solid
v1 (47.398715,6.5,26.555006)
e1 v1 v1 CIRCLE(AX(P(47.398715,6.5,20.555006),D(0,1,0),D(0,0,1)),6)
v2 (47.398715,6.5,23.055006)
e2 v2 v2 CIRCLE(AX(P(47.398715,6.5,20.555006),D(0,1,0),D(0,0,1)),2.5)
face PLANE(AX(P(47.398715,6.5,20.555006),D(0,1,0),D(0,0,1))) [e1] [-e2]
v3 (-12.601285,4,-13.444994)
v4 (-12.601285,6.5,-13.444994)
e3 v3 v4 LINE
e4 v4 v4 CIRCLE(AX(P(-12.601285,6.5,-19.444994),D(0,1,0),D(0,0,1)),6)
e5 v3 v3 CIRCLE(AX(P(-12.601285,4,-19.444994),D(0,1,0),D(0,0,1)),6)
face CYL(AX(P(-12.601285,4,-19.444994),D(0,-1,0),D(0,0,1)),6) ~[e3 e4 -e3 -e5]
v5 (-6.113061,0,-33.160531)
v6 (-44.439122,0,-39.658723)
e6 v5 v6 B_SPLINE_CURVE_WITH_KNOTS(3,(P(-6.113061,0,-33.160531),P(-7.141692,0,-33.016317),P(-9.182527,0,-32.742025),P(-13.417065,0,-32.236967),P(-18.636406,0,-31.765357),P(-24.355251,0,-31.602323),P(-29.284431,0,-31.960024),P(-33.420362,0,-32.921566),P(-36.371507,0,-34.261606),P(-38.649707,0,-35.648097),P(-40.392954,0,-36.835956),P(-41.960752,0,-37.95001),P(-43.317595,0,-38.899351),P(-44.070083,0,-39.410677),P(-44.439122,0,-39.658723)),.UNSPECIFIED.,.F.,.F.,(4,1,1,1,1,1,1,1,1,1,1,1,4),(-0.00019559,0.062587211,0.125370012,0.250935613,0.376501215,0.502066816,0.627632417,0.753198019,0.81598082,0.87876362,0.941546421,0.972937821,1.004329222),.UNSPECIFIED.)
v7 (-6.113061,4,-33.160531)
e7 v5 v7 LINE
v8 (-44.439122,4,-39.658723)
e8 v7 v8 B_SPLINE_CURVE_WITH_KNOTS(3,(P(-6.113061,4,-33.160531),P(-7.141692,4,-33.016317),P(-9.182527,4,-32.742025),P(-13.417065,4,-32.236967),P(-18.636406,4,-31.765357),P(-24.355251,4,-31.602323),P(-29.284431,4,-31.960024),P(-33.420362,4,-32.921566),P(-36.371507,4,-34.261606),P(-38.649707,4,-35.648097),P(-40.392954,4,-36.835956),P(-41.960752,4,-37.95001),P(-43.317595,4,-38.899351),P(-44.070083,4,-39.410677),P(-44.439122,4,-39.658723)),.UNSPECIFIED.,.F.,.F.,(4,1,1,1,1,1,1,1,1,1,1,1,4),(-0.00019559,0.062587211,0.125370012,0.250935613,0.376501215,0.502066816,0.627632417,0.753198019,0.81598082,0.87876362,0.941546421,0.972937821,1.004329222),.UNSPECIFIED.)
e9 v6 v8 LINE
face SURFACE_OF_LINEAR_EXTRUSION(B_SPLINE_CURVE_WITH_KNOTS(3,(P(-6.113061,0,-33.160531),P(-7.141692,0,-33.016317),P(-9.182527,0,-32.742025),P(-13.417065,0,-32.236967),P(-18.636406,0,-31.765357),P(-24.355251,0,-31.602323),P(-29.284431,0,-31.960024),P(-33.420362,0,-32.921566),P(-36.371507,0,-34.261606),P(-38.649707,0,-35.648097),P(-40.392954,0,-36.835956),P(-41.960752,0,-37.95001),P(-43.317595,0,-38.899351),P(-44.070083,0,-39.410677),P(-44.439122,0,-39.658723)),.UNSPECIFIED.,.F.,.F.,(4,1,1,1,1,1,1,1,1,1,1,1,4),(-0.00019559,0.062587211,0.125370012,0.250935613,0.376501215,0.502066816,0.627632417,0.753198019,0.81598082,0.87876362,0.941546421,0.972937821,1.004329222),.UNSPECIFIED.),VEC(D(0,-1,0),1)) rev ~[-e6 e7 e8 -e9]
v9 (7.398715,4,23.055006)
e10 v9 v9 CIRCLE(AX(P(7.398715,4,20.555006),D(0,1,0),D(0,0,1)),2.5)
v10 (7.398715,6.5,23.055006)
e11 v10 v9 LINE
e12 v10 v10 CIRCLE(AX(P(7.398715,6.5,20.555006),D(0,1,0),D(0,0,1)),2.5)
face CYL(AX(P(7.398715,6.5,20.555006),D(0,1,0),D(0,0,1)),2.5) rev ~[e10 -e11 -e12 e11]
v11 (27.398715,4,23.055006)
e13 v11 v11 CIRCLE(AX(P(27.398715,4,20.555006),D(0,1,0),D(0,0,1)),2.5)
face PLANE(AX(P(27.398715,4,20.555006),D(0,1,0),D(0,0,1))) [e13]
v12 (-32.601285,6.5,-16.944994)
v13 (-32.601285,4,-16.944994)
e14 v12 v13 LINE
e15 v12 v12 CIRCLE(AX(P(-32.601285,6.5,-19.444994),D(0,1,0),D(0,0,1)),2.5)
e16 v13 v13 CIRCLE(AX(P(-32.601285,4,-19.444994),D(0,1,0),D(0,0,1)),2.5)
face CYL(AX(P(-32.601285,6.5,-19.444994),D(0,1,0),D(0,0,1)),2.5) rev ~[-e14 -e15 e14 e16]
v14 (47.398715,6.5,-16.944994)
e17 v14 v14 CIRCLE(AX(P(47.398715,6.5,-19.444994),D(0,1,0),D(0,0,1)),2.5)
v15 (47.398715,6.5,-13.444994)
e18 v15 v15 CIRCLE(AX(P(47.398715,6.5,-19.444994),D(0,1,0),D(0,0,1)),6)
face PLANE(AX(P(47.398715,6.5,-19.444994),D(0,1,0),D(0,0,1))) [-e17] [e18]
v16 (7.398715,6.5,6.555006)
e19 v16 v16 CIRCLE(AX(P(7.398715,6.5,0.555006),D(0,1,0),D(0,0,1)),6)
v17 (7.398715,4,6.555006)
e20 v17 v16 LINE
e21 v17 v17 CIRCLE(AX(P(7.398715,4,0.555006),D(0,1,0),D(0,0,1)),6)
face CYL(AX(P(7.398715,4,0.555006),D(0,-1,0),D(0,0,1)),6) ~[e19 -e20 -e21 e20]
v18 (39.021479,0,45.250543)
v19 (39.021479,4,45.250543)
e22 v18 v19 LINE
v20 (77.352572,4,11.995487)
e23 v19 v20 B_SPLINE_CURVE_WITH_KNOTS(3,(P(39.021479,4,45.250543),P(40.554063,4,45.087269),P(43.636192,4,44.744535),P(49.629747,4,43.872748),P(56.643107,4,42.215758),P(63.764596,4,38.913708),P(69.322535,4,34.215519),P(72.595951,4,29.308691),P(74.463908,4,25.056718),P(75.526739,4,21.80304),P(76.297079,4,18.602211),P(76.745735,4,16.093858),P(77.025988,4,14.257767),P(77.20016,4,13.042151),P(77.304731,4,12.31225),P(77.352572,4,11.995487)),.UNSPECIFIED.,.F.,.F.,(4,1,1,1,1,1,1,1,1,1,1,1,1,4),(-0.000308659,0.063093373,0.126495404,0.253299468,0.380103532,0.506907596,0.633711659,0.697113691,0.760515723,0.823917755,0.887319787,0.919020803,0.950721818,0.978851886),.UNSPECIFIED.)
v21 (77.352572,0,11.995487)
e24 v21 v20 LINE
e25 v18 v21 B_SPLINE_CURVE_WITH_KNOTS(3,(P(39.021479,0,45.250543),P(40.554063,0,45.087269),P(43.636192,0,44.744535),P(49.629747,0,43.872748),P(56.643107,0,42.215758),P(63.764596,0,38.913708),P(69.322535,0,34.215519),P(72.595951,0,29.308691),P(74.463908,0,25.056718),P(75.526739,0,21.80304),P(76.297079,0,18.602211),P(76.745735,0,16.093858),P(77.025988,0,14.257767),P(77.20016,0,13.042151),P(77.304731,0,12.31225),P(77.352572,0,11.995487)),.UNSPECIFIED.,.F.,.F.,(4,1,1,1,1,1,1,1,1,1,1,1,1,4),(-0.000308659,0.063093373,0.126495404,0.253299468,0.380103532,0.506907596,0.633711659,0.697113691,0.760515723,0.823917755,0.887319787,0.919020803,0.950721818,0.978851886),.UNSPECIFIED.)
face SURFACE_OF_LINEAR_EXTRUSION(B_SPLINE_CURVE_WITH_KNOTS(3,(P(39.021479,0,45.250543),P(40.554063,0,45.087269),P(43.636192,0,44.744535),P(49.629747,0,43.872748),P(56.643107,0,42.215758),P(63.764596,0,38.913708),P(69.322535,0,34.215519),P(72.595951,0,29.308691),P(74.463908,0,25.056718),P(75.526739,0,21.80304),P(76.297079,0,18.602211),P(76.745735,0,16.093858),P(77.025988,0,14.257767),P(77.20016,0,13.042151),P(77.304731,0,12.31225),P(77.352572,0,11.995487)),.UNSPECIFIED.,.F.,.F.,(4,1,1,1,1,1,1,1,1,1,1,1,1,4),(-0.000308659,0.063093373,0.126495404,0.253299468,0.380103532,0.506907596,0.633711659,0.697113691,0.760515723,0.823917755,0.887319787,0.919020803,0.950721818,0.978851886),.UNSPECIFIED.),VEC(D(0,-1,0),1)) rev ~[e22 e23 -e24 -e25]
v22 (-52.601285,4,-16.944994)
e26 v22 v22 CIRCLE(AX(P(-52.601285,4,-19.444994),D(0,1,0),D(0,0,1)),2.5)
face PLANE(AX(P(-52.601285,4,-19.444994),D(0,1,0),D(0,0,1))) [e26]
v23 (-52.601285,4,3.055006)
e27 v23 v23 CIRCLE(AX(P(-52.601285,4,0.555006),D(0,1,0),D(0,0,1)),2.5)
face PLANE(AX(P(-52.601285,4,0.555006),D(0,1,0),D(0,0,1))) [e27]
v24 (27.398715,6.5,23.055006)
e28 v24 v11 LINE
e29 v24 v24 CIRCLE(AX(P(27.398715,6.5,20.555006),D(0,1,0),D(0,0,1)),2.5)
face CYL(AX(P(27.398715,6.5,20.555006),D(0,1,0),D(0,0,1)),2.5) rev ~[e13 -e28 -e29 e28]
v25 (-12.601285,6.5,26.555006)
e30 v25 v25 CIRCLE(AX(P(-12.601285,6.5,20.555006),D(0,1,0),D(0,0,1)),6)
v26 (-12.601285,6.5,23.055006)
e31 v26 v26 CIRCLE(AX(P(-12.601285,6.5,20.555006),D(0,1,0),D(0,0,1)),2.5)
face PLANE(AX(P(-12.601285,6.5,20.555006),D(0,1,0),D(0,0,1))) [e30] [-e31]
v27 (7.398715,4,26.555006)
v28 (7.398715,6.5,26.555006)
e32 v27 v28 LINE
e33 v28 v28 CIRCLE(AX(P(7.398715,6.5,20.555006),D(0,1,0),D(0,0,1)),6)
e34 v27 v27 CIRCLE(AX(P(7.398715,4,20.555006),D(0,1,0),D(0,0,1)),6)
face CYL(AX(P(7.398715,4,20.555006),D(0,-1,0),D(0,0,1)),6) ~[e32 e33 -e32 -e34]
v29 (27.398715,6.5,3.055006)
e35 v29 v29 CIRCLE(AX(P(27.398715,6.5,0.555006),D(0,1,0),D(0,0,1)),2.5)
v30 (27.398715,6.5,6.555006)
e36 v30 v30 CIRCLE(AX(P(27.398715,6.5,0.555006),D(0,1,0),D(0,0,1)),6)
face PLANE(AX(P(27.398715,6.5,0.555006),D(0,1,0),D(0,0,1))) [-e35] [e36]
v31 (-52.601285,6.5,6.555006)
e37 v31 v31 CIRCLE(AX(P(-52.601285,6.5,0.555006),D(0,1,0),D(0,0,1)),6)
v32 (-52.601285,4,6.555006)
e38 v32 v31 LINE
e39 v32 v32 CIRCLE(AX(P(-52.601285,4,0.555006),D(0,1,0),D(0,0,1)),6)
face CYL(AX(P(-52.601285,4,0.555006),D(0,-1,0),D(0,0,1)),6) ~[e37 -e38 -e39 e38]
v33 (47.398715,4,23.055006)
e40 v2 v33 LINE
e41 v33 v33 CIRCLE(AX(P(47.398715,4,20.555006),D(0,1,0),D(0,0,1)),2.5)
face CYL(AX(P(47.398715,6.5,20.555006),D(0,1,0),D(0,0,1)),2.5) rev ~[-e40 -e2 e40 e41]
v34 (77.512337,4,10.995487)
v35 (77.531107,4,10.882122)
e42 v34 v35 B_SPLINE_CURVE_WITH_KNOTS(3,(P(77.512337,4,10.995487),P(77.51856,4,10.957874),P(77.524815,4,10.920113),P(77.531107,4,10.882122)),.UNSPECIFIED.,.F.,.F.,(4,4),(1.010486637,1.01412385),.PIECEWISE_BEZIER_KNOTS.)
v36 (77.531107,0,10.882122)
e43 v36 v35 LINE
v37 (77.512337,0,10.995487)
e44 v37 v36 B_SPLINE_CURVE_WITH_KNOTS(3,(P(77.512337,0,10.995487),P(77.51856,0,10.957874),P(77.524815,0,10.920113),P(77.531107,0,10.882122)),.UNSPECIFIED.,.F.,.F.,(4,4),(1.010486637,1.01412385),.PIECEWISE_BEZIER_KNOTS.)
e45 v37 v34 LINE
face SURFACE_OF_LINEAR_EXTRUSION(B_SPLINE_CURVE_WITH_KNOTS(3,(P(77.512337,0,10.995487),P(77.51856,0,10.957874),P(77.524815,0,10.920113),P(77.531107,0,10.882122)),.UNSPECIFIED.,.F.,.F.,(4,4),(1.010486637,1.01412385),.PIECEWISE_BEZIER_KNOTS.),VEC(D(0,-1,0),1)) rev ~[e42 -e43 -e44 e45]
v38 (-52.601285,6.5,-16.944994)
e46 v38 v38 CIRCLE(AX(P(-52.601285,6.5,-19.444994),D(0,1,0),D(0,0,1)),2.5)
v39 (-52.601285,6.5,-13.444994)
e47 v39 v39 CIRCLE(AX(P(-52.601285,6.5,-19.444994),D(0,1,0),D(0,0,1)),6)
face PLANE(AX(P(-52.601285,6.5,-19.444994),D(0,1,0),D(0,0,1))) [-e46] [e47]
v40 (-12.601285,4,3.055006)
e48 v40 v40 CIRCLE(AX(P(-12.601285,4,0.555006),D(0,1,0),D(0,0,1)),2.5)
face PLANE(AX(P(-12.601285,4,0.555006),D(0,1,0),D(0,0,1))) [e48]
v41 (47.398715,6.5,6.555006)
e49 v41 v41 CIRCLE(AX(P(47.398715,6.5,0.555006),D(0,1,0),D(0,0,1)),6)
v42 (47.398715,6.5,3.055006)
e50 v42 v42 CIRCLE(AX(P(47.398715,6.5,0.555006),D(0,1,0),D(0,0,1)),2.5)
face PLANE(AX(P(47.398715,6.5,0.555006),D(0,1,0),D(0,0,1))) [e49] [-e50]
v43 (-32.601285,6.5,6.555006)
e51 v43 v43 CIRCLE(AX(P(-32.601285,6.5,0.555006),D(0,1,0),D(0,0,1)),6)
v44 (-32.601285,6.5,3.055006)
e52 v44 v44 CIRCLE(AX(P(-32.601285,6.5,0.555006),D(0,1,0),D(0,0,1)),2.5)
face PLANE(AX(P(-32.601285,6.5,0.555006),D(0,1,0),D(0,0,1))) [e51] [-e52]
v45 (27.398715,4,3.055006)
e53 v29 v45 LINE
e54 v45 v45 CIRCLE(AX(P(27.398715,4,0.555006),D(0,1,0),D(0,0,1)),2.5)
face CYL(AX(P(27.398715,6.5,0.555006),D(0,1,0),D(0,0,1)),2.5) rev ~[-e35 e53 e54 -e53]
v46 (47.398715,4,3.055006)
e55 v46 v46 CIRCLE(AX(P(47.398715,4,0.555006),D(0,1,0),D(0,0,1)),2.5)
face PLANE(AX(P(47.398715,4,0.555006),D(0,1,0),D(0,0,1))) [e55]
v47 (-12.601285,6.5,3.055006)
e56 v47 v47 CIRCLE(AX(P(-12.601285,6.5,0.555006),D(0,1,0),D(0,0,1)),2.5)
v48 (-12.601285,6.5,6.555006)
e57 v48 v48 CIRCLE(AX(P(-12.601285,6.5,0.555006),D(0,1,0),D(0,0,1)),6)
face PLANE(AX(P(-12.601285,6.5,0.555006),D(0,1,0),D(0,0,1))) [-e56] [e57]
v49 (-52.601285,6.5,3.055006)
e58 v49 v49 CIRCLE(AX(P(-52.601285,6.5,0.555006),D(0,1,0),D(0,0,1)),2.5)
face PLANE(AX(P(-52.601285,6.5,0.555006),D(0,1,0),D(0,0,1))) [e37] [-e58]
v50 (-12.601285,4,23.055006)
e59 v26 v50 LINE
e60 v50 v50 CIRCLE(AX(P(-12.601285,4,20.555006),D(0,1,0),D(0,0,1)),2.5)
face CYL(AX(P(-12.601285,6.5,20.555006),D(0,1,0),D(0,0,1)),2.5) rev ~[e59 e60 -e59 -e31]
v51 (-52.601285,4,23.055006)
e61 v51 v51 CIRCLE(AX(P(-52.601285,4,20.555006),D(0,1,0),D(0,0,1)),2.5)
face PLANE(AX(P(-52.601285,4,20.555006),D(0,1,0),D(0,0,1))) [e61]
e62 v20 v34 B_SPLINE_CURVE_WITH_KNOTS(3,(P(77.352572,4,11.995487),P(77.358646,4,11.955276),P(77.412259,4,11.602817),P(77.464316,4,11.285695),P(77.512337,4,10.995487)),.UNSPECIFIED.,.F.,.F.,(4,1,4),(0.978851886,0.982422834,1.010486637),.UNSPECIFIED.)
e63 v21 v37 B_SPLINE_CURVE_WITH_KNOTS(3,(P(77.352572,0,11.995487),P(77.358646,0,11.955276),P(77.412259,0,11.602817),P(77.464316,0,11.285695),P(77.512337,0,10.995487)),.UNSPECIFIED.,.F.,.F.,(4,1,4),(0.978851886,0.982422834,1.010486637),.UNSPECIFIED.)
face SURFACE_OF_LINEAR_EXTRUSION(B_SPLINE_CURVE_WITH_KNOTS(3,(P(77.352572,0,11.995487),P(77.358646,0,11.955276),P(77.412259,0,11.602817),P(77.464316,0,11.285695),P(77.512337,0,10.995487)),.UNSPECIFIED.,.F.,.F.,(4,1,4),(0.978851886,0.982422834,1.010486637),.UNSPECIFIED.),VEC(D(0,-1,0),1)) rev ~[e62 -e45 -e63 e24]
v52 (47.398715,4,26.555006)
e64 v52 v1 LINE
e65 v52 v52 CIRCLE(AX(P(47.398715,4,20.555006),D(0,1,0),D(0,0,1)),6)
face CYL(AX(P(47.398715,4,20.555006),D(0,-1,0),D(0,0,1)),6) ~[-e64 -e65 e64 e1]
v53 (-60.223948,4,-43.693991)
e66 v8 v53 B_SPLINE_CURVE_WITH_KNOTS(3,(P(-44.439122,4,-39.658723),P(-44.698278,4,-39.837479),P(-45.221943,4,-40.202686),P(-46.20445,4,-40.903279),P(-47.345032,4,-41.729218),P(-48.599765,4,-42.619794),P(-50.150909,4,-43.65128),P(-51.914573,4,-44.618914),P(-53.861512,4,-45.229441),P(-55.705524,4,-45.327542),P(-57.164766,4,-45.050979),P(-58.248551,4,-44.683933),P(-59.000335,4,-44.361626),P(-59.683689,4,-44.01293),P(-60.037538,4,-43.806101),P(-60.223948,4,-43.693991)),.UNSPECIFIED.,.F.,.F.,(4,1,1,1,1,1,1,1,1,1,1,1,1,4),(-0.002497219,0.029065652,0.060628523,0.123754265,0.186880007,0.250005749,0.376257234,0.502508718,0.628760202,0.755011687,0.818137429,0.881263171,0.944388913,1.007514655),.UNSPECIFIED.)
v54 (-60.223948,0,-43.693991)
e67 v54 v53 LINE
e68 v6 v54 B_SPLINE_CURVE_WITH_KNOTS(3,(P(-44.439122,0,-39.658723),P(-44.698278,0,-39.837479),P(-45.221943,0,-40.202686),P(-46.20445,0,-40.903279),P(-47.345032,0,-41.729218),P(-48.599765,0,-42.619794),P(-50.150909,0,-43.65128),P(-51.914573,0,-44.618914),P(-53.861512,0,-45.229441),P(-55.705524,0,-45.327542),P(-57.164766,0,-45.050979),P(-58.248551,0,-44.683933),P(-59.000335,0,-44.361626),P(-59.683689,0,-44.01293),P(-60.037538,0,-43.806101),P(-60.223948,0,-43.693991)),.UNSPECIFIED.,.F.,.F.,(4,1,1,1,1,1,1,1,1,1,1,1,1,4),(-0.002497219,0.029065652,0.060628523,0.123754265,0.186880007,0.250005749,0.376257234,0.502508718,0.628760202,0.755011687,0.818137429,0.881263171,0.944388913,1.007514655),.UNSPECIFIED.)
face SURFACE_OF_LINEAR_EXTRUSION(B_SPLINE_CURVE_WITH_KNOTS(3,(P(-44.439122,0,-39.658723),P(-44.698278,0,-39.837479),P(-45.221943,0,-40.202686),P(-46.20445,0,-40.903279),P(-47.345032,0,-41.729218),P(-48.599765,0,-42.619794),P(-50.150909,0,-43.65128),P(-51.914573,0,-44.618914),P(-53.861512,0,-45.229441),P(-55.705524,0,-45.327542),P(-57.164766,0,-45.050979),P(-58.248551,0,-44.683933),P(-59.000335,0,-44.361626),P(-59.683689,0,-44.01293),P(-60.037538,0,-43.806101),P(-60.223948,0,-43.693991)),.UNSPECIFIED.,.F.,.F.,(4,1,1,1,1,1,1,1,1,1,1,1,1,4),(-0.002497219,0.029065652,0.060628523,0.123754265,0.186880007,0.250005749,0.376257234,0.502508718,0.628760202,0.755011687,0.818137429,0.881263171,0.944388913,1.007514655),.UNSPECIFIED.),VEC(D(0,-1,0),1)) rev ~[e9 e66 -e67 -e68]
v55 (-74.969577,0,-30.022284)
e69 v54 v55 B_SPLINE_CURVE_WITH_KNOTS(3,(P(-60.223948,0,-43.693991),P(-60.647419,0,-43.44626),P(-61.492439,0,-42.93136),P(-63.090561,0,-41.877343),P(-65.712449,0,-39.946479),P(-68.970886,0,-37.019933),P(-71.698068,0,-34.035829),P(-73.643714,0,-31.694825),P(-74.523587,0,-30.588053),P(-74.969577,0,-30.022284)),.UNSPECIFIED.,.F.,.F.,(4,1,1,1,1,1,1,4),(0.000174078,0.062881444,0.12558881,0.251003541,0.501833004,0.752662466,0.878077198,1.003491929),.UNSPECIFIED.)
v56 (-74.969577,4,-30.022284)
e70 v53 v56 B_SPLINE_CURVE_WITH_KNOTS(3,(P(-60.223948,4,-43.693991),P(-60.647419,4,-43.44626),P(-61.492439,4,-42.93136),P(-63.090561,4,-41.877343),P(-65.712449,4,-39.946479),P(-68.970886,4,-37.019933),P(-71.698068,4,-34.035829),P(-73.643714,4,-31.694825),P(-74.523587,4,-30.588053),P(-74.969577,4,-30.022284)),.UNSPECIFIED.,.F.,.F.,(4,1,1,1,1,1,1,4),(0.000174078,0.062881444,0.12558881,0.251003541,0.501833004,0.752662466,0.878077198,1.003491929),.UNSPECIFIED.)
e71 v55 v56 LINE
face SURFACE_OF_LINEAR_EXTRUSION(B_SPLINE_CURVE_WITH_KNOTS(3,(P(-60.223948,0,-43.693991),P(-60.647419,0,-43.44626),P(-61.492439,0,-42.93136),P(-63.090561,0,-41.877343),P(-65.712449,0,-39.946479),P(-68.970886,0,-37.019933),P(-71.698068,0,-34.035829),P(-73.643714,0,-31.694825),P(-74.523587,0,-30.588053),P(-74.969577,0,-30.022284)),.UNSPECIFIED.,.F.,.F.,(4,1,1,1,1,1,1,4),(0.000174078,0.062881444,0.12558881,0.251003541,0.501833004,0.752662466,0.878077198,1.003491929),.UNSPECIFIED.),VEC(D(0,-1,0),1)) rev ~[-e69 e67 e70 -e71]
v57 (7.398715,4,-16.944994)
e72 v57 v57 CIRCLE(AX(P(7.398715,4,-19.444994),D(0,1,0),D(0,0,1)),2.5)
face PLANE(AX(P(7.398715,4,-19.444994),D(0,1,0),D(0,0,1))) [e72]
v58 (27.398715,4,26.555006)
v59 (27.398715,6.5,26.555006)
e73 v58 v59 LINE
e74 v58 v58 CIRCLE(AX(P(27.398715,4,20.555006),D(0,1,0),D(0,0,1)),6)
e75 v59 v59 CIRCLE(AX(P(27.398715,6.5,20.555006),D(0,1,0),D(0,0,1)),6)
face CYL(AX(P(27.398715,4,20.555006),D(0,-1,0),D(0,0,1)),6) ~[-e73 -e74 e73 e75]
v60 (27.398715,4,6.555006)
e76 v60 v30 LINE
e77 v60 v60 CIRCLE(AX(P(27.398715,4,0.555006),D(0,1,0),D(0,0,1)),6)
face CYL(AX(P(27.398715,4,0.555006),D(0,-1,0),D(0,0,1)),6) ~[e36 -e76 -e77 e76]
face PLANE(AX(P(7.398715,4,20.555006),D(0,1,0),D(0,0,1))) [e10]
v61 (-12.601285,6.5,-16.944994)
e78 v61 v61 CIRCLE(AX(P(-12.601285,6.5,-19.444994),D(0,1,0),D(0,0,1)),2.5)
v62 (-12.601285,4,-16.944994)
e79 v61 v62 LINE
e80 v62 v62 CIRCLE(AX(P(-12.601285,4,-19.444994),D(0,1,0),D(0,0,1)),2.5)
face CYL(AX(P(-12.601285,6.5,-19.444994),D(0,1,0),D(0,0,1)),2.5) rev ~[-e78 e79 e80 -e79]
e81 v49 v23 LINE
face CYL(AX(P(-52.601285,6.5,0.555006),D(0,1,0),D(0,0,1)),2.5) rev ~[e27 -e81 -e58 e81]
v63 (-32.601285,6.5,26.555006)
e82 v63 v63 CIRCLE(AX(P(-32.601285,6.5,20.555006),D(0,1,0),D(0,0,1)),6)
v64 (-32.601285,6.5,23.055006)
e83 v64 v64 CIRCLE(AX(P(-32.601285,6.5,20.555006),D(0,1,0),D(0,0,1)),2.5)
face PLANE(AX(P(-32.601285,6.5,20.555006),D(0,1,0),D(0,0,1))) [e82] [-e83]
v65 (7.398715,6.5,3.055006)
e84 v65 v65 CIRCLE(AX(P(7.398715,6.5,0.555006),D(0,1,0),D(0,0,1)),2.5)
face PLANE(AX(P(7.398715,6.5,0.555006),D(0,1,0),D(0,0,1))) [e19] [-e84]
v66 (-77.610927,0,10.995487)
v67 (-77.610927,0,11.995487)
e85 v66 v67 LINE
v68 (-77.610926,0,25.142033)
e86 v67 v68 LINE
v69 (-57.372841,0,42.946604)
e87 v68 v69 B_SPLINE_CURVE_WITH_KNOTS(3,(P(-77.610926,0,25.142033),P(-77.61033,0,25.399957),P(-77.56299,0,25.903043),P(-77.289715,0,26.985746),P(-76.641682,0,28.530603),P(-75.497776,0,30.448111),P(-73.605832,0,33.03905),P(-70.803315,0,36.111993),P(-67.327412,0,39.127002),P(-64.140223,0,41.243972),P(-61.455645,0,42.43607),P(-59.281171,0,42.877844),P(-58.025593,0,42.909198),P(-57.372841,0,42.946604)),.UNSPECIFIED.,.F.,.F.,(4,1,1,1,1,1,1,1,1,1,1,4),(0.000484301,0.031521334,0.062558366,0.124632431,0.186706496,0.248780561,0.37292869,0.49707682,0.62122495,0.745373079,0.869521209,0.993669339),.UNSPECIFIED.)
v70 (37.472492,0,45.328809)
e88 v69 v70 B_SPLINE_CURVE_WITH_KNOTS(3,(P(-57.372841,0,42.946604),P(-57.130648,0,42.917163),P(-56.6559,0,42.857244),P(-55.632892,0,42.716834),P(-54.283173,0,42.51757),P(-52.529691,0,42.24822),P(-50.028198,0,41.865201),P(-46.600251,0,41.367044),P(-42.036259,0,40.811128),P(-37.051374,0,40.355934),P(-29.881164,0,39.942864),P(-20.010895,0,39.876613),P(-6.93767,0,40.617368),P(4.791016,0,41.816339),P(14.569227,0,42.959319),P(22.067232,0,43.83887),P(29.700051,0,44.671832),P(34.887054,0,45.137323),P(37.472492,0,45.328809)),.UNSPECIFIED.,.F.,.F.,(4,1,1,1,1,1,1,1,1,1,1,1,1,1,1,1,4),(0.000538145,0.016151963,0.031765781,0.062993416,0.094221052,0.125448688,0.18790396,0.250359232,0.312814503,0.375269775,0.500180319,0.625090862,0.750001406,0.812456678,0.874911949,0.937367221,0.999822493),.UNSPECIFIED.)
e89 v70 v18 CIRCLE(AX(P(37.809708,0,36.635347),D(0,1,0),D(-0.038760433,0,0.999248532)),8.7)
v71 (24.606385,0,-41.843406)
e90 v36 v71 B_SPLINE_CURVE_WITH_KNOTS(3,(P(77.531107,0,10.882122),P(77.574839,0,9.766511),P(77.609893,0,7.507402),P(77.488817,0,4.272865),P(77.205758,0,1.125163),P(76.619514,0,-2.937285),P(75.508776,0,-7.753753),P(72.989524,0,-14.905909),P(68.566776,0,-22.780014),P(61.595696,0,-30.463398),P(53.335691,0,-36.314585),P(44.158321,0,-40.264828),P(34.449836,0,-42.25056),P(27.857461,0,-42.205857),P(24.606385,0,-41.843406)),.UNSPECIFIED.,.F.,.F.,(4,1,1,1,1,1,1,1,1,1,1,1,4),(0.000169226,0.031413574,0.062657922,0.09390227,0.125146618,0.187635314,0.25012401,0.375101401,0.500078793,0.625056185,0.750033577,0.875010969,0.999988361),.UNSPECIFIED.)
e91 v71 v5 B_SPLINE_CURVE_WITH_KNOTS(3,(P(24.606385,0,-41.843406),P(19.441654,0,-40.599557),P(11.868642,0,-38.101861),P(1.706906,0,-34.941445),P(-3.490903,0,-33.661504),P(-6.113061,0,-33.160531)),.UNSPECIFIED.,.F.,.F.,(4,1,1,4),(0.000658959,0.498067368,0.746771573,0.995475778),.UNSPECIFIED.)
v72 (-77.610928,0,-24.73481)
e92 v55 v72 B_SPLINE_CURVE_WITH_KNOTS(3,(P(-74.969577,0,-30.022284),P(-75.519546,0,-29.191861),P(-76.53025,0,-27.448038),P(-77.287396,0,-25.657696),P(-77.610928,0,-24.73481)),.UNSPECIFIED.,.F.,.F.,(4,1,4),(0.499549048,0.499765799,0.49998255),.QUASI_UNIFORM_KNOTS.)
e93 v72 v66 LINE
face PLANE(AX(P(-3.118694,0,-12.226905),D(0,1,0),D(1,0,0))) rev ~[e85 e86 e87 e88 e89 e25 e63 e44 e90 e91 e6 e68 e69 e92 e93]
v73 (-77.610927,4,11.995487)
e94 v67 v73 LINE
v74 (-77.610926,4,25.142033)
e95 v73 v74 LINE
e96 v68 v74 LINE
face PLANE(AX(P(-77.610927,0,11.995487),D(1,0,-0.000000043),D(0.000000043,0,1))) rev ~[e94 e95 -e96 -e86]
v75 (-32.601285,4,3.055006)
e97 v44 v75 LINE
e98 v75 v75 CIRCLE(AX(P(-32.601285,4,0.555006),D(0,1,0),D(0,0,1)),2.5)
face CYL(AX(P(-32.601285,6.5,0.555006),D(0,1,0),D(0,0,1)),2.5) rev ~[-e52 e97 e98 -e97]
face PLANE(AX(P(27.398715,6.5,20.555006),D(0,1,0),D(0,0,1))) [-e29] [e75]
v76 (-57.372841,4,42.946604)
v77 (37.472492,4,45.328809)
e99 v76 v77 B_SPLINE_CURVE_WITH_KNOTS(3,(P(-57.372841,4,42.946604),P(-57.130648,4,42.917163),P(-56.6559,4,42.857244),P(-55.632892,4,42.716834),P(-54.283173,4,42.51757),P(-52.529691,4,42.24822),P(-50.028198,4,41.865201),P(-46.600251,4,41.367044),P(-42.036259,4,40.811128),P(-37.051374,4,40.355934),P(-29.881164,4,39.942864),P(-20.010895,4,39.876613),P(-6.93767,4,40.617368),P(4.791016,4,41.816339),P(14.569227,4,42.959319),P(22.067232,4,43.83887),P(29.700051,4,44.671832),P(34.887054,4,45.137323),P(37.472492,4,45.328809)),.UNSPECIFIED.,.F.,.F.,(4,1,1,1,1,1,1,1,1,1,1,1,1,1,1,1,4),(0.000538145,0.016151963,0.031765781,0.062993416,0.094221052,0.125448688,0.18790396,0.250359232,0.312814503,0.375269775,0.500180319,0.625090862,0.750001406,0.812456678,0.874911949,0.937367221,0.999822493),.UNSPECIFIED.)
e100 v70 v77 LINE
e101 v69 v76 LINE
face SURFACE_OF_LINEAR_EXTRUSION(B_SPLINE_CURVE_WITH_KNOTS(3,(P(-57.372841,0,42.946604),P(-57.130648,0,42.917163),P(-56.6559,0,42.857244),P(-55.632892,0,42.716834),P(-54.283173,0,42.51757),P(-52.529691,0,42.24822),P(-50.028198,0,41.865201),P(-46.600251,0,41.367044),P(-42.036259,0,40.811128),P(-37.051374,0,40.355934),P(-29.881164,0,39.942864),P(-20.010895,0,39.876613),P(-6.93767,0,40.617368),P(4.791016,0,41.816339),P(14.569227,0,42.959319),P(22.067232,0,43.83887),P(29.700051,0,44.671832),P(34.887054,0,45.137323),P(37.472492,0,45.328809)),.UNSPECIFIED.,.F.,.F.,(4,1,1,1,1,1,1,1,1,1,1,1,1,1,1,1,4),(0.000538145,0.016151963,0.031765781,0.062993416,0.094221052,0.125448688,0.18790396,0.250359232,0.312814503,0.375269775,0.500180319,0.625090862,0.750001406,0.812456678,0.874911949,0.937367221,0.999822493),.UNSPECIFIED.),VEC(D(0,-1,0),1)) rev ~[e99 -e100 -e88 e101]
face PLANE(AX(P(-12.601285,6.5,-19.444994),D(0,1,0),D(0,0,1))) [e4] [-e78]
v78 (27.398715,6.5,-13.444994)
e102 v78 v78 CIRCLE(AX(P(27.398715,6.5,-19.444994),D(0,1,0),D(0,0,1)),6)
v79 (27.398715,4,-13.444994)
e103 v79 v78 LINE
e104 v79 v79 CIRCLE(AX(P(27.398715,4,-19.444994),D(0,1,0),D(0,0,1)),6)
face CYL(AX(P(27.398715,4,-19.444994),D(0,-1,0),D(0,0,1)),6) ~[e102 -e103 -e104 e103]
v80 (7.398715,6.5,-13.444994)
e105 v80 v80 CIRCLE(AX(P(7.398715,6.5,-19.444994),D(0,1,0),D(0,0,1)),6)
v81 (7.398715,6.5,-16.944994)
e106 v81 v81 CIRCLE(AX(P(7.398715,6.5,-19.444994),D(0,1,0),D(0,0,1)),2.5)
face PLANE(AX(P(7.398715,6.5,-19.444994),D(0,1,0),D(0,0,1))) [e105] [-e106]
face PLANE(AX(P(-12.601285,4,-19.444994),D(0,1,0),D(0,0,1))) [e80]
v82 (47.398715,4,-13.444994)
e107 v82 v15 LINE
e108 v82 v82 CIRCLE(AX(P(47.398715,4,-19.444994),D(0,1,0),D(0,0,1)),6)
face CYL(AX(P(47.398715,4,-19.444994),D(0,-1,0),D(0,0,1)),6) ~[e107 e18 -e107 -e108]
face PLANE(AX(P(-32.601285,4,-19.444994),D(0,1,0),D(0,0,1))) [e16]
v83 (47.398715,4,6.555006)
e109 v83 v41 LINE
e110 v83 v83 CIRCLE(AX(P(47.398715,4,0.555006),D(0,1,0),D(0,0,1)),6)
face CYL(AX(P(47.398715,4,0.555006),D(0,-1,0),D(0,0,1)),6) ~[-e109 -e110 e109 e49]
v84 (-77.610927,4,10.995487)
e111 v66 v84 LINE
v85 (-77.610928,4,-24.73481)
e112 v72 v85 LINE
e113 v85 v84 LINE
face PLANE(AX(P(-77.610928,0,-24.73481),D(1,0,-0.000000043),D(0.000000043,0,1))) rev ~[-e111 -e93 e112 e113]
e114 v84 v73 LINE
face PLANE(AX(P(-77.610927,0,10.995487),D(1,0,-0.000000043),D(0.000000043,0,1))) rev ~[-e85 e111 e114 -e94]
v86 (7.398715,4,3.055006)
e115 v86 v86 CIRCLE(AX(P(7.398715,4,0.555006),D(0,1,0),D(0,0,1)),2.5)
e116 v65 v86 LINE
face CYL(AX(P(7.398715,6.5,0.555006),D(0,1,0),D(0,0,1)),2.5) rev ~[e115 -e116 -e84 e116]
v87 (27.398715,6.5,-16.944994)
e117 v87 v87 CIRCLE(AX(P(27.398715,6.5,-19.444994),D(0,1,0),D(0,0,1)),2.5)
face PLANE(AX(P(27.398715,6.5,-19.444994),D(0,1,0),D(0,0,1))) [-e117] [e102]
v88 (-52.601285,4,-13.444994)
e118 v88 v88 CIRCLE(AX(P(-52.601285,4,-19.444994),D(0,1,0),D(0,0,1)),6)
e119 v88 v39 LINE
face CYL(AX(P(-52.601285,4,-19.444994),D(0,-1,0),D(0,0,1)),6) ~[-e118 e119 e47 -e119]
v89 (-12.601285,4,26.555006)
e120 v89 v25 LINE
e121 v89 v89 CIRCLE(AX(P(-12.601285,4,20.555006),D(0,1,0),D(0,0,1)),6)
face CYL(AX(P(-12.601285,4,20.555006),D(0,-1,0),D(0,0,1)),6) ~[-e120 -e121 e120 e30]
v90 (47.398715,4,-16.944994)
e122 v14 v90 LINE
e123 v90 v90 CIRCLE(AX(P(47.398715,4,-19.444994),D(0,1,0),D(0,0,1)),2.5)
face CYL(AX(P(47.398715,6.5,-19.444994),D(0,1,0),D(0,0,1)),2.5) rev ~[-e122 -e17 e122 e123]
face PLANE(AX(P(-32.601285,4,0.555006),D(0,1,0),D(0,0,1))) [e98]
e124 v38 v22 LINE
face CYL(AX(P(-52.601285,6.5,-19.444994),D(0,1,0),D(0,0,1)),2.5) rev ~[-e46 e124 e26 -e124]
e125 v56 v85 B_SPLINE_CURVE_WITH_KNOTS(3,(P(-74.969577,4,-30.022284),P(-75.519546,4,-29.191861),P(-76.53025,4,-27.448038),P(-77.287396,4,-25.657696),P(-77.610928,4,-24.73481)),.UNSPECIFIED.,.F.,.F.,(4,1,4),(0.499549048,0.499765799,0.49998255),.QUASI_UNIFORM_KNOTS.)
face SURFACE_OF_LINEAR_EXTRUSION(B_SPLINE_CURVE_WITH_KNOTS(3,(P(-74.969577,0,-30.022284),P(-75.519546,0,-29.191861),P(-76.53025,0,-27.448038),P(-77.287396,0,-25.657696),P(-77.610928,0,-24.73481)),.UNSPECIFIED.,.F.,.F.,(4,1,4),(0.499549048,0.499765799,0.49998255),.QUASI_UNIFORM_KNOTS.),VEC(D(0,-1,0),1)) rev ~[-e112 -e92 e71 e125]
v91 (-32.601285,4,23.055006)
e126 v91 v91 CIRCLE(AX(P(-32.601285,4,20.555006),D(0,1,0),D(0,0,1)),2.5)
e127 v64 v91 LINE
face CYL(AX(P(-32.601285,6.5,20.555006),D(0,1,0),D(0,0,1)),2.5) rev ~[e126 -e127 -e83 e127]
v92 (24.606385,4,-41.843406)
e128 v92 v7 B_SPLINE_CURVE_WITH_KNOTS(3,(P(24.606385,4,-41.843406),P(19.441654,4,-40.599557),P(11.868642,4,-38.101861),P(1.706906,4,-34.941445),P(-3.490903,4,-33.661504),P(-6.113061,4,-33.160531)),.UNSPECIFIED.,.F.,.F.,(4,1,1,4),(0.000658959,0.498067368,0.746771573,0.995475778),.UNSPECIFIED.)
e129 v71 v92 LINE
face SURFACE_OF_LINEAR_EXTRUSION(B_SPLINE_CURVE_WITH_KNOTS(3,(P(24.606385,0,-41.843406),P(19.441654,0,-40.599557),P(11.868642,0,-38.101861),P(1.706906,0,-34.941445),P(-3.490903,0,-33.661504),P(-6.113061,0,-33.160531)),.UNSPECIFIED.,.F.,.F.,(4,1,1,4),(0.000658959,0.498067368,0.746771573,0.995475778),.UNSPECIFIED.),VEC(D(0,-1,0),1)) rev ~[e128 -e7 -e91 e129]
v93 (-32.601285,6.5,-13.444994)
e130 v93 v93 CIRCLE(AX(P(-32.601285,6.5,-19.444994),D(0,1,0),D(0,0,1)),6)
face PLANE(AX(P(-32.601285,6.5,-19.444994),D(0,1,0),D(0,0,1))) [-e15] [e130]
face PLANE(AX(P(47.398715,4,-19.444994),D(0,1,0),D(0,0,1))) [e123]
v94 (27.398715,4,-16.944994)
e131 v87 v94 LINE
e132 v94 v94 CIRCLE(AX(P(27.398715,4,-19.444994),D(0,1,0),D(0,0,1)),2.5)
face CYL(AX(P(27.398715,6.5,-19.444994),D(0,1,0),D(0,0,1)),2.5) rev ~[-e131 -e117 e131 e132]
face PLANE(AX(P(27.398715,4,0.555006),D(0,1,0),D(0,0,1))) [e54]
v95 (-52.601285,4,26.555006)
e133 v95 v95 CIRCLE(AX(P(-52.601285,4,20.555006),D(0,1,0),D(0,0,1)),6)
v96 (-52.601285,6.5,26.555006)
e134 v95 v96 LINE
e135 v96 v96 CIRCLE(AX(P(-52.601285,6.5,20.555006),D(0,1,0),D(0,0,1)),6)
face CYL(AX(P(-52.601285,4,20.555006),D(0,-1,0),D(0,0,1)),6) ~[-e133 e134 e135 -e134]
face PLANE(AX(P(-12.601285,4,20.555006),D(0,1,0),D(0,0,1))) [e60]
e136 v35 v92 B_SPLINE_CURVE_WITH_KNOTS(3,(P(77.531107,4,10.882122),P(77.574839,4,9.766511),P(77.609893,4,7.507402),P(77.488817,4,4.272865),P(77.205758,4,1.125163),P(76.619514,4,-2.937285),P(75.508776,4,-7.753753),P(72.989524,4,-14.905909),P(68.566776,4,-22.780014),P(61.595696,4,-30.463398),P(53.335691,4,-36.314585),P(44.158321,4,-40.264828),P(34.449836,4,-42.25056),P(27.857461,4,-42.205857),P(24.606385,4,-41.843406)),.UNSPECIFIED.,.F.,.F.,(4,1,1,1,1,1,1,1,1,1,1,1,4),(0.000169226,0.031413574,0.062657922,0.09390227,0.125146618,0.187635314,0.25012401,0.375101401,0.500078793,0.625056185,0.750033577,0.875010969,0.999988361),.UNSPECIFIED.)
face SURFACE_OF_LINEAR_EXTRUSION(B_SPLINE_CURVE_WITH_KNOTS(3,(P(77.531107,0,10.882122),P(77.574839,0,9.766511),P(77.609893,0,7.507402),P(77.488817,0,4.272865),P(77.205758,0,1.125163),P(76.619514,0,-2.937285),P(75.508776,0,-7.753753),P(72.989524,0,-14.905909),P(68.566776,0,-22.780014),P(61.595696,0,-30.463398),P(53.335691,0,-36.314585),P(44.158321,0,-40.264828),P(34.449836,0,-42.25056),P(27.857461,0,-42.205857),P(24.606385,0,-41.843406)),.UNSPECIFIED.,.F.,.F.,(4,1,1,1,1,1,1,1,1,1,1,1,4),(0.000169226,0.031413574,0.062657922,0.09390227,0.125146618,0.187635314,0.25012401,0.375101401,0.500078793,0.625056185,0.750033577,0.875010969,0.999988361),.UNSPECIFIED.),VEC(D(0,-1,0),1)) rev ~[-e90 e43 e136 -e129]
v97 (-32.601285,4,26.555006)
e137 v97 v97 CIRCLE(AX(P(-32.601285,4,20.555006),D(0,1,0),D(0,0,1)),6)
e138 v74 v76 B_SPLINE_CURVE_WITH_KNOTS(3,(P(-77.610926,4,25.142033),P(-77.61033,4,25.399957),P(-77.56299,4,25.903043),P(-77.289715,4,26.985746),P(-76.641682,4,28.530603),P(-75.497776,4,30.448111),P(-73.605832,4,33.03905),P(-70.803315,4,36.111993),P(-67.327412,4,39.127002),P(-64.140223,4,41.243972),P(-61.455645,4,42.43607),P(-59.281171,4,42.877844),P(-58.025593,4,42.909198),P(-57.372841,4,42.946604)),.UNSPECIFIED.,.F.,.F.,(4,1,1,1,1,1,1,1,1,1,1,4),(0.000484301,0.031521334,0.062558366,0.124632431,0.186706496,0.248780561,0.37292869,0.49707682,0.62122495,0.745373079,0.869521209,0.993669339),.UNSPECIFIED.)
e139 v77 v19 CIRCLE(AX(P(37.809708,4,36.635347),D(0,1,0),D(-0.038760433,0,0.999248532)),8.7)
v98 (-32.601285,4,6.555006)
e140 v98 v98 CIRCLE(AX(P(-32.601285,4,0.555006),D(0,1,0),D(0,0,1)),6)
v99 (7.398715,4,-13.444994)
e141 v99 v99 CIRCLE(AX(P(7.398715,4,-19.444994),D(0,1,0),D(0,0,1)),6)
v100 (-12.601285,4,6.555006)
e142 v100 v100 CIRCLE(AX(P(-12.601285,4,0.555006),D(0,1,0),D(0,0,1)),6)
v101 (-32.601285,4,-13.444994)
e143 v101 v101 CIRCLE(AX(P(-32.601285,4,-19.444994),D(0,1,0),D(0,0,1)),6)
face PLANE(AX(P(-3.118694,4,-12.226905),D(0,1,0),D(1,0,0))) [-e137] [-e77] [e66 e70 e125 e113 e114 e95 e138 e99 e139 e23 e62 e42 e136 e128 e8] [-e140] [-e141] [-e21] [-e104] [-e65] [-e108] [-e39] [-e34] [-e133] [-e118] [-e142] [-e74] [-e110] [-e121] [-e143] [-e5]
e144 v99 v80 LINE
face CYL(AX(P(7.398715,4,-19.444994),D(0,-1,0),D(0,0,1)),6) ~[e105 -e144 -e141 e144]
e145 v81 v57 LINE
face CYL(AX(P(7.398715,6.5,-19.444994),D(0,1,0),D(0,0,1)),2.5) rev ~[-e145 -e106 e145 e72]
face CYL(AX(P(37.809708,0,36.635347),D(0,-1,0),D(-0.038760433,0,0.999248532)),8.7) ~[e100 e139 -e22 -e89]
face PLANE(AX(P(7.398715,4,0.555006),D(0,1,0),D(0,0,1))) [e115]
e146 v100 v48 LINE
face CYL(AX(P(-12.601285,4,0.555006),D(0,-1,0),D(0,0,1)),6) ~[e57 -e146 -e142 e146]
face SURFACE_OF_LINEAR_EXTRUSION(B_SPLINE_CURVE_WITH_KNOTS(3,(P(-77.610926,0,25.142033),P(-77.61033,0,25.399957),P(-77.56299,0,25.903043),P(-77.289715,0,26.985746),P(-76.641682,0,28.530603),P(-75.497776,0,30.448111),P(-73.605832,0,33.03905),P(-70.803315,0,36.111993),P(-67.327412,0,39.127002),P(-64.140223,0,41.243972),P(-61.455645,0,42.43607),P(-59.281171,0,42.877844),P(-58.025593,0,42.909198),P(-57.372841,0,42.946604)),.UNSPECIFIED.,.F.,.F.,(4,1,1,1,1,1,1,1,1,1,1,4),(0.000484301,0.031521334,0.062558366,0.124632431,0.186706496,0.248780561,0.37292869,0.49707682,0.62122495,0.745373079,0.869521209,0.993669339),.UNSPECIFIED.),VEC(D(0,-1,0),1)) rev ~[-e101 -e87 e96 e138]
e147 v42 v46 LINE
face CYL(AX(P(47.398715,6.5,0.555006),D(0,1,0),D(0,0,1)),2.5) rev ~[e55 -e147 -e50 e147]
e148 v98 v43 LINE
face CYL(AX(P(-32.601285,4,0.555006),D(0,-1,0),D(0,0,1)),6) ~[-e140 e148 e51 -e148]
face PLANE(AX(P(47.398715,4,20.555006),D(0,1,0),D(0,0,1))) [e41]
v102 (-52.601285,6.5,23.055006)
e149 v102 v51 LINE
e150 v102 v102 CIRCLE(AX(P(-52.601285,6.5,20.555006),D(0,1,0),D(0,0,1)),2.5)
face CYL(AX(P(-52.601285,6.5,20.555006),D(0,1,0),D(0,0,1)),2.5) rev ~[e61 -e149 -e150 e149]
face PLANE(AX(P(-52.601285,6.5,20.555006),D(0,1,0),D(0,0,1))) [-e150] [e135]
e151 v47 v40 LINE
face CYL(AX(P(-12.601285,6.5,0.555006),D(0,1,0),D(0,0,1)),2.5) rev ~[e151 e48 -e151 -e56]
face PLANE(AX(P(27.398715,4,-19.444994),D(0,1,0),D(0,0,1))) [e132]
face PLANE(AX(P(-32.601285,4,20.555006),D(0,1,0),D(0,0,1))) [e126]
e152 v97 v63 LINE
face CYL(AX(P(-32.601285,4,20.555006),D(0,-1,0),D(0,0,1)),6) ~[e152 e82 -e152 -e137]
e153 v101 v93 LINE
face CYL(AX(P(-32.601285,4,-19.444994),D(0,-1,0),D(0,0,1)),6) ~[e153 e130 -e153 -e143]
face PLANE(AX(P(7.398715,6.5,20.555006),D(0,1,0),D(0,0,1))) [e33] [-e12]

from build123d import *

# Parameters (mm, degrees)
BOSS_EXTRUDE2_DEPTH  = 4
SKETCH2_R            = 6
BOSS_EXTRUDE3_DEPTH  = 2.5
SKETCH4_R            = 2.5
CUT_EXTRUDE1_DEPTH   = 2.5
LPATTERN1_COUNT      = 3
LPATTERN1_PITCH      = 20
LPATTERN1_COUNT_DIR2 = 6
LPATTERN1_PITCH_DIR2 = 20


with BuildPart() as part:
    # Sketch1 → Boss-Extrude2 (new body)
    with BuildSketch(Plane(origin=(0, 0, 0), x_dir=(1, 0, 0), z_dir=(0, 1, 0))):
        with BuildLine():
            Line((-77.610928287, 24.73480995), (-77.610926739, -10.995486899))
            Line((-77.610926739, -10.995486899), (77.512336703, -10.995486899))
            add(Edge.make_bspline(
                [(77.512336703, -10.995486899), (77.518560385, -10.957874405), (77.524814965, -10.920112686), (77.531107112, -10.882121857)],
                knots=[1.010486637, 1.010486637, 1.010486637, 1.010486637, 1.01412385, 1.01412385, 1.01412385, 1.01412385], degree=3))
            add(Edge.make_bspline(
                [(77.531107112, -10.882121857), (77.574839436, -9.766511083), (77.609892635, -7.507402328), (77.488817492, -4.272864758), (77.205757806, -1.125162749), (76.619514408, 2.937285367), (75.50877626, 7.753752623), (72.989524017, 14.905909338), (68.566776195, 22.780014071), (61.595696469, 30.463398286), (53.335691478, 36.314584962), (44.158321293, 40.264828436), (34.449835996, 42.250559646), (27.85746121, 42.205857253), (24.60638519, 41.843406408)],
                knots=[0.000169226, 0.000169226, 0.000169226, 0.000169226, 0.031413574, 0.062657922, 0.09390227, 0.125146618, 0.187635314, 0.25012401, 0.375101401, 0.500078793, 0.625056185, 0.750033577, 0.875010969, 0.999988361, 0.999988361, 0.999988361, 0.999988361], degree=3))
            add(Edge.make_bspline(
                [(24.60638519, 41.843406408), (19.441654305, 40.599557497), (11.868641969, 38.10186056), (1.706905963, 34.941445063), (-3.490903085, 33.661503777), (-6.113060784, 33.160531214)],
                knots=[0.000658959, 0.000658959, 0.000658959, 0.000658959, 0.498067368, 0.746771573, 0.995475778, 0.995475778, 0.995475778, 0.995475778], degree=3))
            add(Edge.make_bspline(
                [(-6.113060784, 33.160531214), (-7.141691771, 33.016316508), (-9.182526978, 32.742024746), (-13.41706461, 32.236967498), (-18.636406478, 31.76535684), (-24.35525076, 31.602322531), (-29.284430774, 31.960023989), (-33.420361612, 32.921566077), (-36.371506688, 34.261606006), (-38.649706949, 35.648097323), (-40.392953753, 36.835956096), (-41.960752384, 37.950009586), (-43.317594841, 38.899351268), (-44.070083407, 39.410677407), (-44.439121999, 39.658722592)],
                knots=[-0.00019559, -0.00019559, -0.00019559, -0.00019559, 0.062587211, 0.125370012, 0.250935613, 0.376501215, 0.502066816, 0.627632417, 0.753198019, 0.81598082, 0.87876362, 0.941546421, 0.972937821, 1.004329222, 1.004329222, 1.004329222, 1.004329222], degree=3))
            add(Edge.make_bspline(
                [(-44.439121999, 39.658722592), (-44.698278493, 39.837478936), (-45.221943057, 40.202686415), (-46.204449693, 40.903278583), (-47.345032131, 41.729218311), (-48.599765224, 42.619793879), (-50.15090873, 43.651280208), (-51.914572875, 44.618913698), (-53.861511808, 45.22944075), (-55.705524128, 45.327541985), (-57.164765963, 45.050979151), (-58.248551256, 44.683932663), (-59.000335406, 44.361625817), (-59.68368912, 44.01293032), (-60.037538284, 43.806100934), (-60.223947924, 43.693990747)],
                knots=[-0.002497219, -0.002497219, -0.002497219, -0.002497219, 0.029065652, 0.060628523, 0.123754265, 0.186880007, 0.250005749, 0.376257234, 0.502508718, 0.628760202, 0.755011687, 0.818137429, 0.881263171, 0.944388913, 1.007514655, 1.007514655, 1.007514655, 1.007514655], degree=3))
            add(Edge.make_bspline(
                [(-60.223947924, 43.693990747), (-60.647418813, 43.446259773), (-61.492438659, 42.931359573), (-63.090560833, 41.877343183), (-65.712449046, 39.946479206), (-68.970886279, 37.019932698), (-71.698068002, 34.035828956), (-73.643714468, 31.694824796), (-74.523586793, 30.588052824), (-74.969576783, 30.022283972)],
                knots=[0.000174078, 0.000174078, 0.000174078, 0.000174078, 0.062881444, 0.12558881, 0.251003541, 0.501833004, 0.752662466, 0.878077198, 1.003491929, 1.003491929, 1.003491929, 1.003491929], degree=3))
            add(Edge.make_bspline(
                [(-74.969576783, 30.022283972), (-75.519545883, 29.19186114), (-76.530249869, 27.448037515), (-77.287396087, 25.657695857), (-77.610928287, 24.73480995)],
                knots=[0.499549048, 0.499549048, 0.499549048, 0.499549048, 0.499765799, 0.49998255, 0.49998255, 0.49998255, 0.49998255], degree=3))
        make_face()
        with BuildLine():
            Line((77.512336703, -10.995486899), (-77.610926739, -10.995486899))
            Line((-77.610926739, -10.995486899), (-77.610926696, -11.995486899))
            Line((-77.610926696, -11.995486899), (77.352572442, -11.995486899))
            add(Edge.make_bspline(
                [(77.352572442, -11.995486899), (77.358645684, -11.955275612), (77.412259186, -11.602816601), (77.464316371, -11.285695229), (77.512336703, -10.995486899)],
                knots=[0.978851886, 0.978851886, 0.978851886, 0.978851886, 0.982422834, 1.010486637, 1.010486637, 1.010486637, 1.010486637], degree=3))
        make_face()
        with BuildLine():
            Line((77.352572442, -11.995486899), (-77.610926696, -11.995486899))
            Line((-77.610926696, -11.995486899), (-77.610926126, -25.14203309))
            add(Edge.make_bspline(
                [(-77.610926126, -25.14203309), (-77.610329581, -25.399956565), (-77.56299042, -25.903042711), (-77.289715127, -26.985745976), (-76.641681648, -28.530602527), (-75.497775654, -30.448110961), (-73.605831916, -33.039049782), (-70.803315368, -36.111993436), (-67.327412016, -39.127002194), (-64.140223394, -41.243972104), (-61.455644843, -42.436069514), (-59.281170991, -42.877843858), (-58.025592683, -42.909198362), (-57.3728408, -42.946603583)],
                knots=[0.000484301, 0.000484301, 0.000484301, 0.000484301, 0.031521334, 0.062558366, 0.124632431, 0.186706496, 0.248780561, 0.37292869, 0.49707682, 0.62122495, 0.745373079, 0.869521209, 0.993669339, 0.993669339, 0.993669339, 0.993669339], degree=3))
            add(Edge.make_bspline(
                [(-57.3728408, -42.946603583), (-57.13064829, -42.917162583), (-56.655899826, -42.857244252), (-55.632891969, -42.716833971), (-54.283173397, -42.517569574), (-52.529691334, -42.248220025), (-50.028198289, -41.865201142), (-46.600250729, -41.367044153), (-42.036258597, -40.811127611), (-37.051373779, -40.355934431), (-29.881163552, -39.94286355), (-20.010895236, -39.876612938), (-6.937670032, -40.617368244), (4.79101559, -41.816338855), (14.569227449, -42.959318591), (22.067232439, -43.838869966), (29.700051426, -44.671831852), (34.887053568, -45.137323321), (37.472492496, -45.32880882)],
                knots=[0.000538145, 0.000538145, 0.000538145, 0.000538145, 0.016151963, 0.031765781, 0.062993416, 0.094221052, 0.125448688, 0.18790396, 0.250359232, 0.312814503, 0.375269775, 0.500180319, 0.625090862, 0.750001406, 0.812456678, 0.874911949, 0.937367221, 0.999822493, 0.999822493, 0.999822493, 0.999822493], degree=3))
            ThreePointArc((37.472492496, -45.32880882), (38.248733412, -45.324262341), (39.021479233, -45.250543112))
            add(Edge.make_bspline(
                [(39.021479233, -45.250543112), (40.554063275, -45.087269156), (43.636191946, -44.744534775), (49.629747374, -43.872748427), (56.64310661, -42.215757501), (63.76459646, -38.913707507), (69.322535256, -34.215518596), (72.595951354, -29.308690908), (74.463908277, -25.056718438), (75.526739474, -21.803040338), (76.297079472, -18.602211114), (76.745734786, -16.093857572), (77.025988143, -14.25776708), (77.200159766, -13.042150967), (77.304730613, -12.312250405), (77.352572442, -11.995486899)],
                knots=[-0.000308659, -0.000308659, -0.000308659, -0.000308659, 0.063093373, 0.126495404, 0.253299468, 0.380103532, 0.506907596, 0.633711659, 0.697113691, 0.760515723, 0.823917755, 0.887319787, 0.919020803, 0.950721818, 0.978851886, 0.978851886, 0.978851886, 0.978851886], degree=3))
        make_face()
    extrude(amount=BOSS_EXTRUDE2_DEPTH)

    # Sketch2 → Boss-Extrude3 (add)
    with BuildSketch(Plane(origin=(0, 4, 0), x_dir=(1, 0, 0), z_dir=(0, 1, 0))):
        with Locations(Location((-52.601285046, 19.444993701, 0), (0, 0, 270))):
            Circle(SKETCH2_R)
    boss_extrude3 = extrude(amount=BOSS_EXTRUDE3_DEPTH)

    # Sketch4 → Cut-Extrude1 (cut)
    with BuildSketch(Plane(origin=(0, 6.5, 0), x_dir=(1, 0, 0), z_dir=(0, 1, 0))):
        with Locations(Location((-52.601285046, 19.444993701, 0), (0, 0, 270))):
            Circle(SKETCH4_R)
    cut_extrude1 = extrude(amount=-CUT_EXTRUDE1_DEPTH, mode=Mode.SUBTRACT)

    # LPattern1: Boss-Extrude3, Cut-Extrude1 3 × 6
    with Locations(*[(j * LPATTERN1_PITCH_DIR2, 0, i * LPATTERN1_PITCH) for i in range(LPATTERN1_COUNT) for j in range(LPATTERN1_COUNT_DIR2) if (i, j) != (0, 0)]):
        add(boss_extrude3)
        add(cut_extrude1, mode=Mode.SUBTRACT)


solid = part.part
